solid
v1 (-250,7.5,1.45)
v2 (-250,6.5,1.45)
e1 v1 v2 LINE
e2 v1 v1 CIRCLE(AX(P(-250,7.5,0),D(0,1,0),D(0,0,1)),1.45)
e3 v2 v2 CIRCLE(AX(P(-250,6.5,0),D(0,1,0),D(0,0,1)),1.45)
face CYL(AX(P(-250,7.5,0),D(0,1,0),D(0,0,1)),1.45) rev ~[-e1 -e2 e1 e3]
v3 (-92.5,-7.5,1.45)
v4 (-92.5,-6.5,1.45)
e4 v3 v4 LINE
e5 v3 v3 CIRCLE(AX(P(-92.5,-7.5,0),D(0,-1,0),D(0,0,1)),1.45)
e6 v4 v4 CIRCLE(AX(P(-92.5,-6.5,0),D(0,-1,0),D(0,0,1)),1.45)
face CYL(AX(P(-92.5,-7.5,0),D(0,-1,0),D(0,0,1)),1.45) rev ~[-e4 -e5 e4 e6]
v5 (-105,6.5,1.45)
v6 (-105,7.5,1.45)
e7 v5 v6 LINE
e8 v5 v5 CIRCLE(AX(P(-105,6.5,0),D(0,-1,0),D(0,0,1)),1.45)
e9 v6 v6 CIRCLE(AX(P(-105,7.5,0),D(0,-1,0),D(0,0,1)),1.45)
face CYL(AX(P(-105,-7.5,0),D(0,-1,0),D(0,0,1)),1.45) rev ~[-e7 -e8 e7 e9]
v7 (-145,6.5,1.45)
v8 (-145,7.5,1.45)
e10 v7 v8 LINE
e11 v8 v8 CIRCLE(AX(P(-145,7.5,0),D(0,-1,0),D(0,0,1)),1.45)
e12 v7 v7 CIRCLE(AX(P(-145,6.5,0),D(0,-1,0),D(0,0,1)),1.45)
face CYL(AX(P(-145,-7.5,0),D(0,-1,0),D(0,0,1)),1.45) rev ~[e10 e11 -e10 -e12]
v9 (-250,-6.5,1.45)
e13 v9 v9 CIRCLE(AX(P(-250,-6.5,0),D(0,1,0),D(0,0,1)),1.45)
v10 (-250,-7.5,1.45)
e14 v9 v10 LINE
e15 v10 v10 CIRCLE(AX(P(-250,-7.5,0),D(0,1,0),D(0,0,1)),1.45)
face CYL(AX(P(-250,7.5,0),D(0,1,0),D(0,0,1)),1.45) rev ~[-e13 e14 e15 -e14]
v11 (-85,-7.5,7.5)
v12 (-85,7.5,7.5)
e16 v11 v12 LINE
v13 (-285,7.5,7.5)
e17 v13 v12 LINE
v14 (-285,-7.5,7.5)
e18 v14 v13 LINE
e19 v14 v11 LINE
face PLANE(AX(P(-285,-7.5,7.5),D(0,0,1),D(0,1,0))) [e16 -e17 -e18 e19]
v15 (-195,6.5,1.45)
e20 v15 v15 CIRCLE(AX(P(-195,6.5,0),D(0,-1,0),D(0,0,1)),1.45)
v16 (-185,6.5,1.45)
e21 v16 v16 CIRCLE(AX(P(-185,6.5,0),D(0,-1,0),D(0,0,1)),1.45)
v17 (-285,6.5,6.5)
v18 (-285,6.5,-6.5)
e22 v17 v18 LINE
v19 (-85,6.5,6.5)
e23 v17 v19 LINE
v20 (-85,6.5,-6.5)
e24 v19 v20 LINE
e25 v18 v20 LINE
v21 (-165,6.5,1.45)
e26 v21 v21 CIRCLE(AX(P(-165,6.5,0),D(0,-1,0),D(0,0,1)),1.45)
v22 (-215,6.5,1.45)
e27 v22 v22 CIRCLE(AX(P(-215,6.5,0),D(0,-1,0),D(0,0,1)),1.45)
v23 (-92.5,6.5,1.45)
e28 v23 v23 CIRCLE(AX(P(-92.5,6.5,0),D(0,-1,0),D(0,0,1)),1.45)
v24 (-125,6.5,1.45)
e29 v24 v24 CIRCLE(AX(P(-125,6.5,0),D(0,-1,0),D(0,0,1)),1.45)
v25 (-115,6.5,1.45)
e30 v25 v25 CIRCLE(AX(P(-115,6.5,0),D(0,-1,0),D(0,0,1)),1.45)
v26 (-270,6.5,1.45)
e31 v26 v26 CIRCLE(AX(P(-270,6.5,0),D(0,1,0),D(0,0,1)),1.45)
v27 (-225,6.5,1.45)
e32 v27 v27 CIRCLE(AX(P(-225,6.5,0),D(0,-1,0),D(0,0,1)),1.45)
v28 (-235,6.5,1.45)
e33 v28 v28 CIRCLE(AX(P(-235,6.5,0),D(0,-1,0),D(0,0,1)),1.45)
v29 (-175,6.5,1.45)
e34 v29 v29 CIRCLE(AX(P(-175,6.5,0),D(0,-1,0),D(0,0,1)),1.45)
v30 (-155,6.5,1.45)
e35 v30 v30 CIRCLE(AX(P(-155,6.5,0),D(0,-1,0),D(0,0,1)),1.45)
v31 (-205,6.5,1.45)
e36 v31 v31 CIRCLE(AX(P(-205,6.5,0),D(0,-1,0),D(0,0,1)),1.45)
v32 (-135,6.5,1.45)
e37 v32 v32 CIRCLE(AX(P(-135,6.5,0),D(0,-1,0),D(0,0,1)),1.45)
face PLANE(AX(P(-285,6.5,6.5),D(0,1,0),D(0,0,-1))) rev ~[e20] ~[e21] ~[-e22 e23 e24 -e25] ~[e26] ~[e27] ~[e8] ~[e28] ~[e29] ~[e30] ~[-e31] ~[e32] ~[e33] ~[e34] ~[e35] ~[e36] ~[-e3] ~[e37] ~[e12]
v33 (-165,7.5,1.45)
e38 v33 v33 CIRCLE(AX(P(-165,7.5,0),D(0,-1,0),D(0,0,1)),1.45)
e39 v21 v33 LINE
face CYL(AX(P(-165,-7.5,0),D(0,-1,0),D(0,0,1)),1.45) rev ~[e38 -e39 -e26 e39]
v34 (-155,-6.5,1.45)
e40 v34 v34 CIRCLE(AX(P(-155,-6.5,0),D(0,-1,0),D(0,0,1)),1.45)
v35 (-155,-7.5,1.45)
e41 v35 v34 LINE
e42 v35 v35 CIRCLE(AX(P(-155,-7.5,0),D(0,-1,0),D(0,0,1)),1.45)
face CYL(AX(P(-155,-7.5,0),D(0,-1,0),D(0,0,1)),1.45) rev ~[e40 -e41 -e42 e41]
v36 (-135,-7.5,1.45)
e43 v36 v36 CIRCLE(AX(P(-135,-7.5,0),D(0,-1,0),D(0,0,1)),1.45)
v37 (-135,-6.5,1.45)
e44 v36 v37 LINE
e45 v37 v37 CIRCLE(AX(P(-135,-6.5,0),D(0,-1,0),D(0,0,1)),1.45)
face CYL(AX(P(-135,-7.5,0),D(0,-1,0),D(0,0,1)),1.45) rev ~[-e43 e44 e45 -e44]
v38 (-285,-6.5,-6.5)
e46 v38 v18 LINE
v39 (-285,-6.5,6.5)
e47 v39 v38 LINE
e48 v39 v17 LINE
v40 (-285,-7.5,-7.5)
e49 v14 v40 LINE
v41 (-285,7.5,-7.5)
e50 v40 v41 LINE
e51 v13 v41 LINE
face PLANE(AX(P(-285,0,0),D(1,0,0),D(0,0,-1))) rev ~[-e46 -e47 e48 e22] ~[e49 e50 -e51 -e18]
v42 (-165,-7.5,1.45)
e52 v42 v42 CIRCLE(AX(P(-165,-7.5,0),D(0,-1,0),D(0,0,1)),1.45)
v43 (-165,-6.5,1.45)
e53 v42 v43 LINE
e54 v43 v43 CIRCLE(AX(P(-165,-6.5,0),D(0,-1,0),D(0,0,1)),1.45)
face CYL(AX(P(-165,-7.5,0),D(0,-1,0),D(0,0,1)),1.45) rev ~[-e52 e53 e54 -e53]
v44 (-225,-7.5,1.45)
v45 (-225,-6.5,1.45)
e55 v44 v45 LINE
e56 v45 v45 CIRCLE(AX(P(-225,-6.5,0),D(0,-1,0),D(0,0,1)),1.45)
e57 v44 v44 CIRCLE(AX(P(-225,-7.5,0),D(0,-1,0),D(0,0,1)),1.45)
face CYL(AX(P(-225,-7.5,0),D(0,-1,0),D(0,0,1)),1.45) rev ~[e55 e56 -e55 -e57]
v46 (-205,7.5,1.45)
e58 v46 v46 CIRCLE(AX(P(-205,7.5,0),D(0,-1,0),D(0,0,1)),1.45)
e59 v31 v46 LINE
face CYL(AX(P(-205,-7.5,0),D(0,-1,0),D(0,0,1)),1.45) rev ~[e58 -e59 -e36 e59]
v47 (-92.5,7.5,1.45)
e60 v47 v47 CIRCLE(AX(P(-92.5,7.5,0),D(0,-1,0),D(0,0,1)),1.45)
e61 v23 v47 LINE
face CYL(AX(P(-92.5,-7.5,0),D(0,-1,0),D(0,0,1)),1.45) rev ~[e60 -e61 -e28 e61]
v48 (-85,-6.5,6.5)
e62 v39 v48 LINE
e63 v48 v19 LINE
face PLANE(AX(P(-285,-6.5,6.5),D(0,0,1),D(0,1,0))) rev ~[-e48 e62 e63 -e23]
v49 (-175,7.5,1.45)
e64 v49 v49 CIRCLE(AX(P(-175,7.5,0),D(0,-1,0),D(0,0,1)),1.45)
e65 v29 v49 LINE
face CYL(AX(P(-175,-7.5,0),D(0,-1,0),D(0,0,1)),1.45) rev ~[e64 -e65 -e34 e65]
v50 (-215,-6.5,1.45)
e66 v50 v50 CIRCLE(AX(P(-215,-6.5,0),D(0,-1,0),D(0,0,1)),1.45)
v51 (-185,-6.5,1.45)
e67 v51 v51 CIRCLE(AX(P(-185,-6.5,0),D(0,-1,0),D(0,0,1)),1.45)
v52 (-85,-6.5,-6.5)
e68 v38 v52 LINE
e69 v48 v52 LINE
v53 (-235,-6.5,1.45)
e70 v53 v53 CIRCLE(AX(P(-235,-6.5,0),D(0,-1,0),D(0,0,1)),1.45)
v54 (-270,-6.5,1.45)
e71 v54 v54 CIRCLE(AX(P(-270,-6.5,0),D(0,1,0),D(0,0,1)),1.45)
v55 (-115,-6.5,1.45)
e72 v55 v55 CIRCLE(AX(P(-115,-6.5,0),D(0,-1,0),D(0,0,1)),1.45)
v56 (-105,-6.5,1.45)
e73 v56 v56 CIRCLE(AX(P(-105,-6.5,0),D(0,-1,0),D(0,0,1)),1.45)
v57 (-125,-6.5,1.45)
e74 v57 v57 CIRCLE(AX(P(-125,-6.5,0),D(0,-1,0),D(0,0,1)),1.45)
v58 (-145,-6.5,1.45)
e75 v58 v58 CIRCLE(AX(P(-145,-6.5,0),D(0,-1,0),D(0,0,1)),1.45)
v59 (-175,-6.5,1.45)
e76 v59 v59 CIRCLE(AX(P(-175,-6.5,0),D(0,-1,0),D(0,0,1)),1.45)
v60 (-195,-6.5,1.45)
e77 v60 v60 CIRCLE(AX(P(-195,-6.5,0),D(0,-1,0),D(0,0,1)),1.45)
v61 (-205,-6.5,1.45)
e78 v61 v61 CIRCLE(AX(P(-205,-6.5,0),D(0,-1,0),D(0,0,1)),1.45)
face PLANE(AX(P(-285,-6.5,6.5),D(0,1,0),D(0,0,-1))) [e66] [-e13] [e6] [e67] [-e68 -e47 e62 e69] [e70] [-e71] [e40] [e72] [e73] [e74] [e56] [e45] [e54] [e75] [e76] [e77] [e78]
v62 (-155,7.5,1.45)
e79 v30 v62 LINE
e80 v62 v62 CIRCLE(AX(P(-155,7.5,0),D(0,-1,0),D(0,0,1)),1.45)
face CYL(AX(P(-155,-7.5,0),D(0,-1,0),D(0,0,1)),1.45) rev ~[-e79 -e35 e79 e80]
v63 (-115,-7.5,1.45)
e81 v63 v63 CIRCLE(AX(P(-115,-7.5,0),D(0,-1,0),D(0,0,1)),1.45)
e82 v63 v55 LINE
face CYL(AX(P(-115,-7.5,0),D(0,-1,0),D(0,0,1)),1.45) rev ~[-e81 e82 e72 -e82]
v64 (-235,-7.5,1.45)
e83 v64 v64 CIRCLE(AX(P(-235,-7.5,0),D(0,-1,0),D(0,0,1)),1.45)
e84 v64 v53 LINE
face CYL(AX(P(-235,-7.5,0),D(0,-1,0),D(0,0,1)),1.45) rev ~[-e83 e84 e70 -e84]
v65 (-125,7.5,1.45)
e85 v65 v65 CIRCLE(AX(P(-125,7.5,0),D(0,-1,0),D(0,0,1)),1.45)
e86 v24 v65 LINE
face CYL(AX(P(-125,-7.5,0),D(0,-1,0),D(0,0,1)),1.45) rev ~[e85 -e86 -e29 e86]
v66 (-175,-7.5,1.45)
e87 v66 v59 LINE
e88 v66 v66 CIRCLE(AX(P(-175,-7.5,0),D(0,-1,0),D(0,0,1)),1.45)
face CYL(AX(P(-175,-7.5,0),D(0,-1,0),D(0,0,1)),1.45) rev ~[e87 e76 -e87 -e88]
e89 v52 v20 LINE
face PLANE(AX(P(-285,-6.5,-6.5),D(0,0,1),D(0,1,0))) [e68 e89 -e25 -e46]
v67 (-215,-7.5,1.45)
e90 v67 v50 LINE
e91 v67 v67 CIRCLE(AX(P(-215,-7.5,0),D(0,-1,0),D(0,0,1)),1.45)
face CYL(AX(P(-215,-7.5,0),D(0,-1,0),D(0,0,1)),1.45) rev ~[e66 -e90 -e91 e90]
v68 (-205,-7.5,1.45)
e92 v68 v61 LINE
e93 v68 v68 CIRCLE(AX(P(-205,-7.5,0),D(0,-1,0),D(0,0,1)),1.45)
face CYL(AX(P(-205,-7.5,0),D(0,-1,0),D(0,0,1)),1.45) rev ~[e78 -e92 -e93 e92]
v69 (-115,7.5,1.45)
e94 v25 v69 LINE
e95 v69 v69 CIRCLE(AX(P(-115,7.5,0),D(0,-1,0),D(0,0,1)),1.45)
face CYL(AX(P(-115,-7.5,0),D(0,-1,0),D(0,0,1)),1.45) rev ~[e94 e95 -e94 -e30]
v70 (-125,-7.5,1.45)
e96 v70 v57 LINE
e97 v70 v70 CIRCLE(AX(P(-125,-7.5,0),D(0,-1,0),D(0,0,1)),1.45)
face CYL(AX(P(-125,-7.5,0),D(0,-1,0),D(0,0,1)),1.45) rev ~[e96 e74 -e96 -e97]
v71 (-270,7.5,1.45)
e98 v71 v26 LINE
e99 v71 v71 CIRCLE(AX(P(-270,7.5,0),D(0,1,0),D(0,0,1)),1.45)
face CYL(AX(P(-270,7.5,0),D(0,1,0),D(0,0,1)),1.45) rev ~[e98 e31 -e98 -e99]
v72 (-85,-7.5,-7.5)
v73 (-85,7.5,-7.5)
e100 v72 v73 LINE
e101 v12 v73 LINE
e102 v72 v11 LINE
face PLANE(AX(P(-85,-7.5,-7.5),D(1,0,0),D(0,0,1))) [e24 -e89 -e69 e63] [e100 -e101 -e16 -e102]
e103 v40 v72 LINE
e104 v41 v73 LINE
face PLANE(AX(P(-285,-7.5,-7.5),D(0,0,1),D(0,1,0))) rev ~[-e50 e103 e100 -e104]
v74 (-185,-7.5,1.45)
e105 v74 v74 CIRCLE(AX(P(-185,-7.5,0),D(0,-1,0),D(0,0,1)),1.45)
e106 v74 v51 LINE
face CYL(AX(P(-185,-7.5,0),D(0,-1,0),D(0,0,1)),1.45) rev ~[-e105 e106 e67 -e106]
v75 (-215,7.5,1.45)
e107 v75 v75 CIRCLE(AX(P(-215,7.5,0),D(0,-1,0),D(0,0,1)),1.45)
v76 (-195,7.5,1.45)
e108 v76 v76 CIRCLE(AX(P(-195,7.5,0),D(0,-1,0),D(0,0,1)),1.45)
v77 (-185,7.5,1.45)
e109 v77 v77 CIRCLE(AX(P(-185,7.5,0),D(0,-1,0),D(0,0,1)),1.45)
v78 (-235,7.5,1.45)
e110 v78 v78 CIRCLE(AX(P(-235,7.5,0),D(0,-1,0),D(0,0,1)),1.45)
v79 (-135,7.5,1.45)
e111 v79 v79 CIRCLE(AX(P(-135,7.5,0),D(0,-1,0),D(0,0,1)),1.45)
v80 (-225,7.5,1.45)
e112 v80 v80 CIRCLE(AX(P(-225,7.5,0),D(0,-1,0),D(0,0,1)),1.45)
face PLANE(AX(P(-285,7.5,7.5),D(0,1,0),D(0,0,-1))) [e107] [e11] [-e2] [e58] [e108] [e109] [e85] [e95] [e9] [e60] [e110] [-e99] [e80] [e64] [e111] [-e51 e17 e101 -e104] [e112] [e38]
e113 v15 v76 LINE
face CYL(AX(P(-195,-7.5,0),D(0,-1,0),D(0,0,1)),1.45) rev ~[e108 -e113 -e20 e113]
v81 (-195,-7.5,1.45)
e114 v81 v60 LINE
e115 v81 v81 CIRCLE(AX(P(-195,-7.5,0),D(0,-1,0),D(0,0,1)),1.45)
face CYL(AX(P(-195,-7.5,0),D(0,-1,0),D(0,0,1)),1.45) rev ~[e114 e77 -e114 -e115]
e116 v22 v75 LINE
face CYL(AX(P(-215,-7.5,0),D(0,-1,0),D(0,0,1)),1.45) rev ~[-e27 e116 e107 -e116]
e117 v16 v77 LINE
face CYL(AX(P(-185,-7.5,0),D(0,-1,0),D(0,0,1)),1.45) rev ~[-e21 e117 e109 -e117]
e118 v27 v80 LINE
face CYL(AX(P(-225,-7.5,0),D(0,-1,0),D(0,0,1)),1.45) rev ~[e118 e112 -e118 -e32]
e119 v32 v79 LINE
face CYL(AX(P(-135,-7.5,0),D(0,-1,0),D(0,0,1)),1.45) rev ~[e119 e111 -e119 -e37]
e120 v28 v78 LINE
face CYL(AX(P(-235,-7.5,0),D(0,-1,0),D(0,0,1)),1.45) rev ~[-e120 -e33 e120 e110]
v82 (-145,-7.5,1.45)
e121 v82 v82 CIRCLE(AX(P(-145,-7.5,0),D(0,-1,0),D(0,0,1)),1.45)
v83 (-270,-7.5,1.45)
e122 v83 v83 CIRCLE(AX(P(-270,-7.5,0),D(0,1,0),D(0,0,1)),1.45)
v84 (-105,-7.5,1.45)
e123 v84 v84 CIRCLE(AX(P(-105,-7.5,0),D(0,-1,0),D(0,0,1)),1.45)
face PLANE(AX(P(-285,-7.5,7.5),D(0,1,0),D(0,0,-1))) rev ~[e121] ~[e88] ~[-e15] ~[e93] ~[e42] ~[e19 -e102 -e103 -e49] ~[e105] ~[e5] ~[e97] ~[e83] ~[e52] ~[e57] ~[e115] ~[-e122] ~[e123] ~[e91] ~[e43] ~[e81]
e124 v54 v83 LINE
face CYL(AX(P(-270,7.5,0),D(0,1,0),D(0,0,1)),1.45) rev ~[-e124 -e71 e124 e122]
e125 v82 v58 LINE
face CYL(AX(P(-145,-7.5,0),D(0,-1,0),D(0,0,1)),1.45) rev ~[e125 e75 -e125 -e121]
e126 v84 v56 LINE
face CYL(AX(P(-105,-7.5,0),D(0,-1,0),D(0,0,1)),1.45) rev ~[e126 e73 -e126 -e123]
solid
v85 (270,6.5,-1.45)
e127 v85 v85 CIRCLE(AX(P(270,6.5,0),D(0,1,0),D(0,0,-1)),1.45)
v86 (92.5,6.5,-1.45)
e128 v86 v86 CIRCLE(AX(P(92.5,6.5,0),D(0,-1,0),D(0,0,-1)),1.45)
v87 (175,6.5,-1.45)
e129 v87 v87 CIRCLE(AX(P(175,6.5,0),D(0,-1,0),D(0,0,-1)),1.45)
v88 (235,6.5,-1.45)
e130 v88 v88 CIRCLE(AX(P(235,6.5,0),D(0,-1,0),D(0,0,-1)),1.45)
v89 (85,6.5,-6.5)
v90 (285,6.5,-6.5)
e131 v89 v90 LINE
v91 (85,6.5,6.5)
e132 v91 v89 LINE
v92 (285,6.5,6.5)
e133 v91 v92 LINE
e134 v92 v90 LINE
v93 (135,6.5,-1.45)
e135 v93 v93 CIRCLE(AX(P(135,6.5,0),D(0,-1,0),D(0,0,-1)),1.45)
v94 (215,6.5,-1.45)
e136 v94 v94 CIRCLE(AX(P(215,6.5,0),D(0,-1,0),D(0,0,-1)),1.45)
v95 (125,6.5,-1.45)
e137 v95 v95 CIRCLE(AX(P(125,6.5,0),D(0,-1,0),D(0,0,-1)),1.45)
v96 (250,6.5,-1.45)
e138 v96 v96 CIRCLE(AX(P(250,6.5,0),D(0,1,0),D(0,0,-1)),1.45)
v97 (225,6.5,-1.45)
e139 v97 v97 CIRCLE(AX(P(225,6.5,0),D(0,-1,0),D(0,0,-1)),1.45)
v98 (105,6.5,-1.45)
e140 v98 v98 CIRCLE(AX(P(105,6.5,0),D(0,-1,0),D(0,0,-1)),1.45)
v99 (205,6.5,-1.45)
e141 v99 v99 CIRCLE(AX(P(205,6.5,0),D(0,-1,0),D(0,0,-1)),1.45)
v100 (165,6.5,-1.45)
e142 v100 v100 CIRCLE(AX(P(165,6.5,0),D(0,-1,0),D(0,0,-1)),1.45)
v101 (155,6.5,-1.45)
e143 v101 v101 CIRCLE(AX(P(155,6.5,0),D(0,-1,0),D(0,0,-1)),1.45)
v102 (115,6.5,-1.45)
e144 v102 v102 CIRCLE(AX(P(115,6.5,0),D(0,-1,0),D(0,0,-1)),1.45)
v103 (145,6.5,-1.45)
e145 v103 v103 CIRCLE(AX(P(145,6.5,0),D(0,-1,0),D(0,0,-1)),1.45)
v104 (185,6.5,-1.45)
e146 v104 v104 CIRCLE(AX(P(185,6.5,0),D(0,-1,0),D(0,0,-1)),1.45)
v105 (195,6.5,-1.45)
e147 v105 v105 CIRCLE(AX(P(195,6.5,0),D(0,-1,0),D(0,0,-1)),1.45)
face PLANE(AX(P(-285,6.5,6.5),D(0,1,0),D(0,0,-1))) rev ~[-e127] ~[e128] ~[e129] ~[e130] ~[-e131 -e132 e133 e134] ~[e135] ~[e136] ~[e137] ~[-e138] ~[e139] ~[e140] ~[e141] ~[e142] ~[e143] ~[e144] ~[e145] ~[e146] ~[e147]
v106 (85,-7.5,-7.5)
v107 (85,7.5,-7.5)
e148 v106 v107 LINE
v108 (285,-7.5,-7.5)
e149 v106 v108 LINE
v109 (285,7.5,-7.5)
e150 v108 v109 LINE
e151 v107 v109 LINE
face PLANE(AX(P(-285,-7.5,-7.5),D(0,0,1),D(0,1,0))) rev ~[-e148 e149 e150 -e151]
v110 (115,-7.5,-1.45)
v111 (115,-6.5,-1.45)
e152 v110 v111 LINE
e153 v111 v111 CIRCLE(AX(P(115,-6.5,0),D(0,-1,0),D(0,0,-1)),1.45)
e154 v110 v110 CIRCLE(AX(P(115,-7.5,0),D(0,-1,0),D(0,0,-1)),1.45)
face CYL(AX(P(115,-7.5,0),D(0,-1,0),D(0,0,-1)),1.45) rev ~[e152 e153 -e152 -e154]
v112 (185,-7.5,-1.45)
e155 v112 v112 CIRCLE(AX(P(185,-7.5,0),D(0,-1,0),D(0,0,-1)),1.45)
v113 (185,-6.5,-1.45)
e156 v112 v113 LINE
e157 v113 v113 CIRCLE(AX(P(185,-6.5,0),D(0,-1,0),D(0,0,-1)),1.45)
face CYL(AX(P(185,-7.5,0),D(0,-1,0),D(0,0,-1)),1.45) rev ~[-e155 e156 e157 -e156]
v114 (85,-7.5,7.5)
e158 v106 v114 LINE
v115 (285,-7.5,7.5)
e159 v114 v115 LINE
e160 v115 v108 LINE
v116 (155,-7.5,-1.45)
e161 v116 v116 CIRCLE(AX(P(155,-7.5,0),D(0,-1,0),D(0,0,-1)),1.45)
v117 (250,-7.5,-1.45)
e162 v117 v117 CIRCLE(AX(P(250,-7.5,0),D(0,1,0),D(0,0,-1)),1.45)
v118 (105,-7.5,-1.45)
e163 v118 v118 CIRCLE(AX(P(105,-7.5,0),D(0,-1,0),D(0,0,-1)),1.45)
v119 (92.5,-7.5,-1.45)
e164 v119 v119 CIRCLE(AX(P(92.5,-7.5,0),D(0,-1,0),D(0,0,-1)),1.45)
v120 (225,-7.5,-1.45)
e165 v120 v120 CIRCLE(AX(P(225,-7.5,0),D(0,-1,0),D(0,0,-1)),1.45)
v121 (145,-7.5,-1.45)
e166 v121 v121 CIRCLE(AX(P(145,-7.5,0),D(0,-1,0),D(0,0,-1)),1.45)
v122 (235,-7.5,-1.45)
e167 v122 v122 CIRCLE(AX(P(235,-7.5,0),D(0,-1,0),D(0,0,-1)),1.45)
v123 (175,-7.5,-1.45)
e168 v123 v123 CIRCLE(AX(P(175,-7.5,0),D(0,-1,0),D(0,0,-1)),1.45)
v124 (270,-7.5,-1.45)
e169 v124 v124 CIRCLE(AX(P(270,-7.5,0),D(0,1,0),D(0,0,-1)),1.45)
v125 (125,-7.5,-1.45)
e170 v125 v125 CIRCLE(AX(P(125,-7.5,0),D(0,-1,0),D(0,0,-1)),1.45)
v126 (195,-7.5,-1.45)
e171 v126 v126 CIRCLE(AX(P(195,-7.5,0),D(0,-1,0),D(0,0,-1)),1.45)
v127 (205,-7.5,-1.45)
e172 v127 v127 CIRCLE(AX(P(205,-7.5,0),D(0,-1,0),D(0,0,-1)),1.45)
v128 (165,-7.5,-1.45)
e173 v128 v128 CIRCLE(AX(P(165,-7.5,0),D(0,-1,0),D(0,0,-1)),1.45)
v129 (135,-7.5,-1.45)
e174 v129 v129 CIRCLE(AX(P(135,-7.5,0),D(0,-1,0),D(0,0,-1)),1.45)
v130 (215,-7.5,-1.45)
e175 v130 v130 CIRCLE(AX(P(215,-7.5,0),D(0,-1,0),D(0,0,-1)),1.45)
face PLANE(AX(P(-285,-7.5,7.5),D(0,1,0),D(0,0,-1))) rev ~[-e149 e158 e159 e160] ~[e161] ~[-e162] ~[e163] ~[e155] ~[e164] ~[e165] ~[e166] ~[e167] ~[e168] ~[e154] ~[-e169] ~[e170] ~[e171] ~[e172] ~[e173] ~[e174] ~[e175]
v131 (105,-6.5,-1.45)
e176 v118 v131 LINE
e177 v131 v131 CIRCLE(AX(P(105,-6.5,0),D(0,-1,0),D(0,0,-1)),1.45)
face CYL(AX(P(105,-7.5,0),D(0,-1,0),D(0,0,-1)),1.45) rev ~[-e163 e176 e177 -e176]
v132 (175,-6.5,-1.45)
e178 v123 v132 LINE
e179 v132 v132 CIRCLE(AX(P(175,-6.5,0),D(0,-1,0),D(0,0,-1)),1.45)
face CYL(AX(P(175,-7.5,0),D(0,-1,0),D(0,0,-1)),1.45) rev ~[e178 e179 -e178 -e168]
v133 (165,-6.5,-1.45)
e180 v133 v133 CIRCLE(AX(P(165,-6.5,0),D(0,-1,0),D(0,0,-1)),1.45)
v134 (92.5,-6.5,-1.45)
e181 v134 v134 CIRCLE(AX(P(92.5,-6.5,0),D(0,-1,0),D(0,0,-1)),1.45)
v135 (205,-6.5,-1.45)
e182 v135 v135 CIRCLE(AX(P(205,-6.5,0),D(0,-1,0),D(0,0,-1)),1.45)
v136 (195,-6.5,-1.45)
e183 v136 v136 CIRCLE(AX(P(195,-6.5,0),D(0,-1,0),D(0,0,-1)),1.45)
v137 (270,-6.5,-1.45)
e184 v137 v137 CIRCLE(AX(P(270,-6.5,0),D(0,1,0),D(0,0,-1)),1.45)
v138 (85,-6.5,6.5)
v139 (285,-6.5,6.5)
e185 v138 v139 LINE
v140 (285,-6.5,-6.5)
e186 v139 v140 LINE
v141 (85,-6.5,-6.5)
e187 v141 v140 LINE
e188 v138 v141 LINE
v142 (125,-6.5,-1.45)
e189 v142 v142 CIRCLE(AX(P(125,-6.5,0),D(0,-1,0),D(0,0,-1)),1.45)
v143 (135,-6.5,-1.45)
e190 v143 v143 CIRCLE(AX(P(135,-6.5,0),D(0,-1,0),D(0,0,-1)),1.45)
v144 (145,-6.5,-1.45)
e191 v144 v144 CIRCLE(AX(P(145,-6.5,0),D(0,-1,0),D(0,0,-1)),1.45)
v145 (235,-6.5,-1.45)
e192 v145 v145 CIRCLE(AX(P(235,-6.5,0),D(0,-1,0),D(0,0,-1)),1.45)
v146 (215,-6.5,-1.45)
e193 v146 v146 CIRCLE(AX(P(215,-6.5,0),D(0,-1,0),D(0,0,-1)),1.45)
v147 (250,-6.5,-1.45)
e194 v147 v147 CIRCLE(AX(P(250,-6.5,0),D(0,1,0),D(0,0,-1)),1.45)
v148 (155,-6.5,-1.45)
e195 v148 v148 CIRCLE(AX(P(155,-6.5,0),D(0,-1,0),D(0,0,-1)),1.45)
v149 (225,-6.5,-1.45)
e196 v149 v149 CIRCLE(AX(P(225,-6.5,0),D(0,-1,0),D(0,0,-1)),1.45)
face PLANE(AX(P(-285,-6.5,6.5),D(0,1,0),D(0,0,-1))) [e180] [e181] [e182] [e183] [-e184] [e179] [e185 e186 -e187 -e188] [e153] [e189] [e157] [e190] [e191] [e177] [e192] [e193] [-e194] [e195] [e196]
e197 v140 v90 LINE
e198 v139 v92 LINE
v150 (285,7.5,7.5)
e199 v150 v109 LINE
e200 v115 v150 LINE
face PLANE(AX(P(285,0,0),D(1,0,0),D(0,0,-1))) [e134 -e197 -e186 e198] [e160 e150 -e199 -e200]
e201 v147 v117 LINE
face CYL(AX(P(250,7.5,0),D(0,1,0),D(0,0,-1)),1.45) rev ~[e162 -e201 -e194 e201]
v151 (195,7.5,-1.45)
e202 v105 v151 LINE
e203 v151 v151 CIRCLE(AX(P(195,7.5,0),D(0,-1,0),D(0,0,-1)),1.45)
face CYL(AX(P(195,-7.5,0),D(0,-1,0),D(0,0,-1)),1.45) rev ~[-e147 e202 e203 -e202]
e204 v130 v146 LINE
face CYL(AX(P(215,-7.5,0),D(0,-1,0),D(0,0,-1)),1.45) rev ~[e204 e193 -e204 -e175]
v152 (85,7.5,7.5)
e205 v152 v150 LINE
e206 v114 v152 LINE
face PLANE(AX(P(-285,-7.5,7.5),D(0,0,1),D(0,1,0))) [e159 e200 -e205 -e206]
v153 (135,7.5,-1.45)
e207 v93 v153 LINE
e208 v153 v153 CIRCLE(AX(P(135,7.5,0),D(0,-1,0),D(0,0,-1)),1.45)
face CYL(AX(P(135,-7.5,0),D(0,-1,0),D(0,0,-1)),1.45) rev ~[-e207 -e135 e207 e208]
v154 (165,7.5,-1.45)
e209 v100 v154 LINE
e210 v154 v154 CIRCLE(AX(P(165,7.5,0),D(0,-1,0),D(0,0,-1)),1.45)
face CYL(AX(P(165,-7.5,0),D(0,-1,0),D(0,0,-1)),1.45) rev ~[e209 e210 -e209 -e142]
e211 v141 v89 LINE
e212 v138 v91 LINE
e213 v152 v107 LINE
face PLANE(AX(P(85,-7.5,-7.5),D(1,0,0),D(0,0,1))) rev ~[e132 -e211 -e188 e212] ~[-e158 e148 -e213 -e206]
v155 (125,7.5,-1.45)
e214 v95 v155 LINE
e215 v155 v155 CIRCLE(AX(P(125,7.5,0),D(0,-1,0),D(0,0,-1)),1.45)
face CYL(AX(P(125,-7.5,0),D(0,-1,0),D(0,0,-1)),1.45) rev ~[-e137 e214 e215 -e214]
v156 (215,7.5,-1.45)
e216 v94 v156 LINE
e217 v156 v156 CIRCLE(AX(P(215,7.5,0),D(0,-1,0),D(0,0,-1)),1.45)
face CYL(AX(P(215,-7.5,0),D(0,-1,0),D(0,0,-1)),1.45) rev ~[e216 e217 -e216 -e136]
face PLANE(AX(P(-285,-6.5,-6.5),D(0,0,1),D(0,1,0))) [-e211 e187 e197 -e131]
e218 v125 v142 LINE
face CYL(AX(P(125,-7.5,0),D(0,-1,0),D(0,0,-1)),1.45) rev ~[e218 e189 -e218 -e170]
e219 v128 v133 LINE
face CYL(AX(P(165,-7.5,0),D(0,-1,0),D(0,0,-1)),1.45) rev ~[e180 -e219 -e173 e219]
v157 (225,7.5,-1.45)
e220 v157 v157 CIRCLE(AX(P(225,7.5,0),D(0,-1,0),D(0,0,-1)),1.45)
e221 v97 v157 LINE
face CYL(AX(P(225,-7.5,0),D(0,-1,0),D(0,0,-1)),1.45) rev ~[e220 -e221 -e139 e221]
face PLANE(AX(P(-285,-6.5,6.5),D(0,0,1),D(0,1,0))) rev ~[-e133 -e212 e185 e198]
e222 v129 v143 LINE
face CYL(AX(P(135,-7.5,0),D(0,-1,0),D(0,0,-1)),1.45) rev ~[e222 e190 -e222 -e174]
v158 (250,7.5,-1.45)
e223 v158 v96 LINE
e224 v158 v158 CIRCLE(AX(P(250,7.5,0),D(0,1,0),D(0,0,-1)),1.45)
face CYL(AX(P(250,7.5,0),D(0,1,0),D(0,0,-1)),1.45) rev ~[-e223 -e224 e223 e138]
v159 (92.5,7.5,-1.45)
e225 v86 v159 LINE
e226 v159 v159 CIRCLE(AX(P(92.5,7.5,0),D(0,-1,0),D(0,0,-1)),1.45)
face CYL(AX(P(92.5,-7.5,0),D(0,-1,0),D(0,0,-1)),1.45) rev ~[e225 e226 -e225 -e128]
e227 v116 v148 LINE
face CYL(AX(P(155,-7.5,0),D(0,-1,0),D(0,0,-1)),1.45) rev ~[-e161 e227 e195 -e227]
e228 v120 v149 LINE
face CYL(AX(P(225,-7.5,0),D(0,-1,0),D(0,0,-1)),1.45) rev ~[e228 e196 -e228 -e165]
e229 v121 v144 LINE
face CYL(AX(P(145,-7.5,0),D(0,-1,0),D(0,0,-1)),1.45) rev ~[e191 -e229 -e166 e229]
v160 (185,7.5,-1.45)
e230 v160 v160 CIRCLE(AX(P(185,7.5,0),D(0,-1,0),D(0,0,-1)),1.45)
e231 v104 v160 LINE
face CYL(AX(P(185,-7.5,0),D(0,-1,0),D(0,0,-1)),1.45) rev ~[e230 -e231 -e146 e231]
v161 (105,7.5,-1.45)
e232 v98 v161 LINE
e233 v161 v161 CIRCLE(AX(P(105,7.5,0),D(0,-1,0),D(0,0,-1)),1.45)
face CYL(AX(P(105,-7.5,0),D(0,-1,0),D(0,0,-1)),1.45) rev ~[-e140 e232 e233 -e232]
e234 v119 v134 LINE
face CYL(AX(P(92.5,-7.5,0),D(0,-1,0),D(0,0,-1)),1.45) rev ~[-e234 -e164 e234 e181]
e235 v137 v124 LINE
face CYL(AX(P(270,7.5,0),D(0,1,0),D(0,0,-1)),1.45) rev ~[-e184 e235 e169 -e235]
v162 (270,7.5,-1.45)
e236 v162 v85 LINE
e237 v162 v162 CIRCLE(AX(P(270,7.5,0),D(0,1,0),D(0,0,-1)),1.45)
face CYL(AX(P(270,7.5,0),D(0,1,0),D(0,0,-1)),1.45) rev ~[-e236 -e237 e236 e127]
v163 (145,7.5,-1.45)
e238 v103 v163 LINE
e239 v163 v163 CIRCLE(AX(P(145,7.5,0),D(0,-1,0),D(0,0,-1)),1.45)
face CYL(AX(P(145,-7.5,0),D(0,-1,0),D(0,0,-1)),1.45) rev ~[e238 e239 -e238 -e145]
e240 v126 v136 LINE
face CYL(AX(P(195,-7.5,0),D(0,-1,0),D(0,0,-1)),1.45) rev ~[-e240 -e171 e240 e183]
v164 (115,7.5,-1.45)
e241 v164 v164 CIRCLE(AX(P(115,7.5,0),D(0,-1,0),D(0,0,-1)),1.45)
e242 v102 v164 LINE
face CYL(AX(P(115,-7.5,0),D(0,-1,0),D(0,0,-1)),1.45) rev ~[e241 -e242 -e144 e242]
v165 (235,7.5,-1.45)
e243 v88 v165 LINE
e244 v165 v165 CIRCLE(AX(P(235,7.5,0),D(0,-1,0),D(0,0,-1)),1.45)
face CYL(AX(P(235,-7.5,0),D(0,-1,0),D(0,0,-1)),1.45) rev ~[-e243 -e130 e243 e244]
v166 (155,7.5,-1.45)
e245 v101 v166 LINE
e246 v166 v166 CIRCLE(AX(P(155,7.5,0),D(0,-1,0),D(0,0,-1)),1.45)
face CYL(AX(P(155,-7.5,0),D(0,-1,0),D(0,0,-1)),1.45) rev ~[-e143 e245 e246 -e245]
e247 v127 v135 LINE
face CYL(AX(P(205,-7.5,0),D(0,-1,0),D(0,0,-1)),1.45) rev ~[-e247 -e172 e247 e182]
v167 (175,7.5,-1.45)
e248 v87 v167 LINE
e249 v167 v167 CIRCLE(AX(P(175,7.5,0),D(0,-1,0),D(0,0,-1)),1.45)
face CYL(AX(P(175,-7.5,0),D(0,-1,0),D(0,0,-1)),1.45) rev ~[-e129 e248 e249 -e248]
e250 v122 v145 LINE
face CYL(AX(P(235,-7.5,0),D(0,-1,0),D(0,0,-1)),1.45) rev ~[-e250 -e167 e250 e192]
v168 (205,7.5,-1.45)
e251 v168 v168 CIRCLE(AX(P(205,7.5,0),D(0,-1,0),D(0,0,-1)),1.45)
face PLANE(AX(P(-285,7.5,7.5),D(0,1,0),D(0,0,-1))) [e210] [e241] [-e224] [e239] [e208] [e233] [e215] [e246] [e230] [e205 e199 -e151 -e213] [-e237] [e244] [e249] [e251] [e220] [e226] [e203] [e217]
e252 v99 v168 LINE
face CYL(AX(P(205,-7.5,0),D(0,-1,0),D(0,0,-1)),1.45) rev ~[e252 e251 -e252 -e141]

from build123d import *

# Parameters (mm, degrees)
SKETCH_11_W         = 15
SKETCH_11_H         = 15
SKETCH_11_W_2       = 13
SKETCH_11_H_2       = 13
F_15X15X1_1_DEPTH   = 570
SKETCH_12_R         = 1.45
CUT_EXTRUDE_1_DEPTH = 286.49299466
SKETCH_13_R         = 1.45
CUT_EXTRUDE_2_DEPTH = 286.49299466
SKETCH_15_W         = 170
SKETCH_15_H         = 15
CUT_EXTRUDE_4_DEPTH = 286.49299466
SKETCH_16_R         = 1.45
CUT_EXTRUDE_5_DEPTH = 286.49299466


with BuildPart() as part:
    # 草图11 → 铝管 15X15X1(1) (new body)
    with BuildSketch(Plane(origin=(-285, 0, 0), x_dir=(0, 0, -1), z_dir=(1, 0, 0))):
        Rectangle(SKETCH_11_W, SKETCH_11_H)
        Rectangle(SKETCH_11_W_2, SKETCH_11_H_2, mode=Mode.SUBTRACT)
    extrude(amount=F_15X15X1_1_DEPTH)

    # 草图12 → 切除-拉伸1 (cut, through all)
    with BuildSketch(Plane(origin=(0, 7.5, 0), x_dir=(1, 0, 0), z_dir=(0, 1, 0))):
        with Locations(Location((-270, 0, 0), (0, 0, 270))):
            Circle(SKETCH_12_R)
        with Locations(Location((-250, 0, 0), (0, 0, 270))):
            Circle(SKETCH_12_R)
        with Locations(Location((250, 0, 0), (0, 0, 90))):
            Circle(SKETCH_12_R)
        with Locations(Location((270, 0, 0), (0, 0, 90))):
            Circle(SKETCH_12_R)
    extrude(amount=-CUT_EXTRUDE_1_DEPTH, mode=Mode.SUBTRACT)

    # 草图13 → 切除-拉伸2 (cut, through all)
    with BuildSketch(Plane(origin=(0, 0, -7.5), x_dir=(-1, 0, 0), z_dir=(0, 0, -1))):
        with Locations((-18.5, 0)):
            Circle(SKETCH_13_R)
        with Locations((18.5, 0)):
            Circle(SKETCH_13_R)
    extrude(amount=-CUT_EXTRUDE_2_DEPTH, mode=Mode.SUBTRACT)

    # 草图15 → 切除-拉伸4 (cut, through all)
    with BuildSketch(Plane.XZ.offset(7.5)):
        Rectangle(SKETCH_15_W, SKETCH_15_H)
    extrude(amount=-CUT_EXTRUDE_4_DEPTH, mode=Mode.SUBTRACT)


with BuildPart() as cut_extrude_4_piece_1:
    # of the separate pieces the step leaves, piece 1, a body of its own (cut_extrude_4_pieces)
    add(part.part.solids().sort_by_distance((85, -7.5, -7.5))[0])


with BuildPart() as cut_extrude_4_piece_2:
    # of the separate pieces the step leaves, piece 2, a body of its own (cut_extrude_4_pieces)
    add(part.part.solids().sort_by_distance((-285, -7.5, 7.5))[0])


with BuildPart() as cut_extrude_5_tool:
    # 草图16 → 切除-拉伸5 (new, through all)
    with BuildSketch(Plane.XZ.offset(7.5)):
        with Locations(Location((105, 0, 0), (0, 0, 270))):
            Circle(SKETCH_16_R)
        with Locations(Location((115, 0, 0), (0, 0, 270))):
            Circle(SKETCH_16_R)
        with Locations(Location((125, 0, 0), (0, 0, 270))):
            Circle(SKETCH_16_R)
        with Locations(Location((135, 0, 0), (0, 0, 270))):
            Circle(SKETCH_16_R)
        with Locations(Location((145, 0, 0), (0, 0, 270))):
            Circle(SKETCH_16_R)
        with Locations(Location((155, 0, 0), (0, 0, 270))):
            Circle(SKETCH_16_R)
        with Locations(Location((165, 0, 0), (0, 0, 270))):
            Circle(SKETCH_16_R)
        with Locations(Location((175, 0, 0), (0, 0, 270))):
            Circle(SKETCH_16_R)
        with Locations(Location((185, 0, 0), (0, 0, 270))):
            Circle(SKETCH_16_R)
        with Locations(Location((195, 0, 0), (0, 0, 270))):
            Circle(SKETCH_16_R)
        with Locations(Location((205, 0, 0), (0, 0, 270))):
            Circle(SKETCH_16_R)
        with Locations(Location((215, 0, 0), (0, 0, 270))):
            Circle(SKETCH_16_R)
        with Locations(Location((225, 0, 0), (0, 0, 270))):
            Circle(SKETCH_16_R)
        with Locations(Location((235, 0, 0), (0, 0, 270))):
            Circle(SKETCH_16_R)
        with Locations(Location((-235, 0, 0), (0, 0, 90))):
            Circle(SKETCH_16_R)
        with Locations(Location((-225, 0, 0), (0, 0, 90))):
            Circle(SKETCH_16_R)
        with Locations(Location((-215, 0, 0), (0, 0, 90))):
            Circle(SKETCH_16_R)
        with Locations(Location((-205, 0, 0), (0, 0, 90))):
            Circle(SKETCH_16_R)
        with Locations(Location((-195, 0, 0), (0, 0, 90))):
            Circle(SKETCH_16_R)
        with Locations(Location((-185, 0, 0), (0, 0, 90))):
            Circle(SKETCH_16_R)
        with Locations(Location((-175, 0, 0), (0, 0, 90))):
            Circle(SKETCH_16_R)
        with Locations(Location((-165, 0, 0), (0, 0, 90))):
            Circle(SKETCH_16_R)
        with Locations(Location((-155, 0, 0), (0, 0, 90))):
            Circle(SKETCH_16_R)
        with Locations(Location((-145, 0, 0), (0, 0, 90))):
            Circle(SKETCH_16_R)
        with Locations(Location((-135, 0, 0), (0, 0, 90))):
            Circle(SKETCH_16_R)
        with Locations(Location((-125, 0, 0), (0, 0, 90))):
            Circle(SKETCH_16_R)
        with Locations(Location((-115, 0, 0), (0, 0, 90))):
            Circle(SKETCH_16_R)
        with Locations(Location((-105, 0, 0), (0, 0, 90))):
            Circle(SKETCH_16_R)
        with Locations(Location((92.5, 0, 0), (0, 0, 270))):
            Circle(SKETCH_16_R)
        with Locations(Location((-92.5, 0, 0), (0, 0, 90))):
            Circle(SKETCH_16_R)
    extrude(amount=-CUT_EXTRUDE_5_DEPTH)


with BuildPart() as cut_extrude_4_piece_1_1:
    add(cut_extrude_4_piece_1.part)

    # 切除-拉伸5: cut by cut_extrude_5_tool
    add(cut_extrude_5_tool.part, mode=Mode.SUBTRACT)


with BuildPart() as cut_extrude_4_piece_2_1:
    add(cut_extrude_4_piece_2.part)

    # 切除-拉伸5: cut by cut_extrude_5_tool
    add(cut_extrude_5_tool.part, mode=Mode.SUBTRACT)


solid = Compound([cut_extrude_4_piece_1_1.part, cut_extrude_4_piece_2_1.part])
